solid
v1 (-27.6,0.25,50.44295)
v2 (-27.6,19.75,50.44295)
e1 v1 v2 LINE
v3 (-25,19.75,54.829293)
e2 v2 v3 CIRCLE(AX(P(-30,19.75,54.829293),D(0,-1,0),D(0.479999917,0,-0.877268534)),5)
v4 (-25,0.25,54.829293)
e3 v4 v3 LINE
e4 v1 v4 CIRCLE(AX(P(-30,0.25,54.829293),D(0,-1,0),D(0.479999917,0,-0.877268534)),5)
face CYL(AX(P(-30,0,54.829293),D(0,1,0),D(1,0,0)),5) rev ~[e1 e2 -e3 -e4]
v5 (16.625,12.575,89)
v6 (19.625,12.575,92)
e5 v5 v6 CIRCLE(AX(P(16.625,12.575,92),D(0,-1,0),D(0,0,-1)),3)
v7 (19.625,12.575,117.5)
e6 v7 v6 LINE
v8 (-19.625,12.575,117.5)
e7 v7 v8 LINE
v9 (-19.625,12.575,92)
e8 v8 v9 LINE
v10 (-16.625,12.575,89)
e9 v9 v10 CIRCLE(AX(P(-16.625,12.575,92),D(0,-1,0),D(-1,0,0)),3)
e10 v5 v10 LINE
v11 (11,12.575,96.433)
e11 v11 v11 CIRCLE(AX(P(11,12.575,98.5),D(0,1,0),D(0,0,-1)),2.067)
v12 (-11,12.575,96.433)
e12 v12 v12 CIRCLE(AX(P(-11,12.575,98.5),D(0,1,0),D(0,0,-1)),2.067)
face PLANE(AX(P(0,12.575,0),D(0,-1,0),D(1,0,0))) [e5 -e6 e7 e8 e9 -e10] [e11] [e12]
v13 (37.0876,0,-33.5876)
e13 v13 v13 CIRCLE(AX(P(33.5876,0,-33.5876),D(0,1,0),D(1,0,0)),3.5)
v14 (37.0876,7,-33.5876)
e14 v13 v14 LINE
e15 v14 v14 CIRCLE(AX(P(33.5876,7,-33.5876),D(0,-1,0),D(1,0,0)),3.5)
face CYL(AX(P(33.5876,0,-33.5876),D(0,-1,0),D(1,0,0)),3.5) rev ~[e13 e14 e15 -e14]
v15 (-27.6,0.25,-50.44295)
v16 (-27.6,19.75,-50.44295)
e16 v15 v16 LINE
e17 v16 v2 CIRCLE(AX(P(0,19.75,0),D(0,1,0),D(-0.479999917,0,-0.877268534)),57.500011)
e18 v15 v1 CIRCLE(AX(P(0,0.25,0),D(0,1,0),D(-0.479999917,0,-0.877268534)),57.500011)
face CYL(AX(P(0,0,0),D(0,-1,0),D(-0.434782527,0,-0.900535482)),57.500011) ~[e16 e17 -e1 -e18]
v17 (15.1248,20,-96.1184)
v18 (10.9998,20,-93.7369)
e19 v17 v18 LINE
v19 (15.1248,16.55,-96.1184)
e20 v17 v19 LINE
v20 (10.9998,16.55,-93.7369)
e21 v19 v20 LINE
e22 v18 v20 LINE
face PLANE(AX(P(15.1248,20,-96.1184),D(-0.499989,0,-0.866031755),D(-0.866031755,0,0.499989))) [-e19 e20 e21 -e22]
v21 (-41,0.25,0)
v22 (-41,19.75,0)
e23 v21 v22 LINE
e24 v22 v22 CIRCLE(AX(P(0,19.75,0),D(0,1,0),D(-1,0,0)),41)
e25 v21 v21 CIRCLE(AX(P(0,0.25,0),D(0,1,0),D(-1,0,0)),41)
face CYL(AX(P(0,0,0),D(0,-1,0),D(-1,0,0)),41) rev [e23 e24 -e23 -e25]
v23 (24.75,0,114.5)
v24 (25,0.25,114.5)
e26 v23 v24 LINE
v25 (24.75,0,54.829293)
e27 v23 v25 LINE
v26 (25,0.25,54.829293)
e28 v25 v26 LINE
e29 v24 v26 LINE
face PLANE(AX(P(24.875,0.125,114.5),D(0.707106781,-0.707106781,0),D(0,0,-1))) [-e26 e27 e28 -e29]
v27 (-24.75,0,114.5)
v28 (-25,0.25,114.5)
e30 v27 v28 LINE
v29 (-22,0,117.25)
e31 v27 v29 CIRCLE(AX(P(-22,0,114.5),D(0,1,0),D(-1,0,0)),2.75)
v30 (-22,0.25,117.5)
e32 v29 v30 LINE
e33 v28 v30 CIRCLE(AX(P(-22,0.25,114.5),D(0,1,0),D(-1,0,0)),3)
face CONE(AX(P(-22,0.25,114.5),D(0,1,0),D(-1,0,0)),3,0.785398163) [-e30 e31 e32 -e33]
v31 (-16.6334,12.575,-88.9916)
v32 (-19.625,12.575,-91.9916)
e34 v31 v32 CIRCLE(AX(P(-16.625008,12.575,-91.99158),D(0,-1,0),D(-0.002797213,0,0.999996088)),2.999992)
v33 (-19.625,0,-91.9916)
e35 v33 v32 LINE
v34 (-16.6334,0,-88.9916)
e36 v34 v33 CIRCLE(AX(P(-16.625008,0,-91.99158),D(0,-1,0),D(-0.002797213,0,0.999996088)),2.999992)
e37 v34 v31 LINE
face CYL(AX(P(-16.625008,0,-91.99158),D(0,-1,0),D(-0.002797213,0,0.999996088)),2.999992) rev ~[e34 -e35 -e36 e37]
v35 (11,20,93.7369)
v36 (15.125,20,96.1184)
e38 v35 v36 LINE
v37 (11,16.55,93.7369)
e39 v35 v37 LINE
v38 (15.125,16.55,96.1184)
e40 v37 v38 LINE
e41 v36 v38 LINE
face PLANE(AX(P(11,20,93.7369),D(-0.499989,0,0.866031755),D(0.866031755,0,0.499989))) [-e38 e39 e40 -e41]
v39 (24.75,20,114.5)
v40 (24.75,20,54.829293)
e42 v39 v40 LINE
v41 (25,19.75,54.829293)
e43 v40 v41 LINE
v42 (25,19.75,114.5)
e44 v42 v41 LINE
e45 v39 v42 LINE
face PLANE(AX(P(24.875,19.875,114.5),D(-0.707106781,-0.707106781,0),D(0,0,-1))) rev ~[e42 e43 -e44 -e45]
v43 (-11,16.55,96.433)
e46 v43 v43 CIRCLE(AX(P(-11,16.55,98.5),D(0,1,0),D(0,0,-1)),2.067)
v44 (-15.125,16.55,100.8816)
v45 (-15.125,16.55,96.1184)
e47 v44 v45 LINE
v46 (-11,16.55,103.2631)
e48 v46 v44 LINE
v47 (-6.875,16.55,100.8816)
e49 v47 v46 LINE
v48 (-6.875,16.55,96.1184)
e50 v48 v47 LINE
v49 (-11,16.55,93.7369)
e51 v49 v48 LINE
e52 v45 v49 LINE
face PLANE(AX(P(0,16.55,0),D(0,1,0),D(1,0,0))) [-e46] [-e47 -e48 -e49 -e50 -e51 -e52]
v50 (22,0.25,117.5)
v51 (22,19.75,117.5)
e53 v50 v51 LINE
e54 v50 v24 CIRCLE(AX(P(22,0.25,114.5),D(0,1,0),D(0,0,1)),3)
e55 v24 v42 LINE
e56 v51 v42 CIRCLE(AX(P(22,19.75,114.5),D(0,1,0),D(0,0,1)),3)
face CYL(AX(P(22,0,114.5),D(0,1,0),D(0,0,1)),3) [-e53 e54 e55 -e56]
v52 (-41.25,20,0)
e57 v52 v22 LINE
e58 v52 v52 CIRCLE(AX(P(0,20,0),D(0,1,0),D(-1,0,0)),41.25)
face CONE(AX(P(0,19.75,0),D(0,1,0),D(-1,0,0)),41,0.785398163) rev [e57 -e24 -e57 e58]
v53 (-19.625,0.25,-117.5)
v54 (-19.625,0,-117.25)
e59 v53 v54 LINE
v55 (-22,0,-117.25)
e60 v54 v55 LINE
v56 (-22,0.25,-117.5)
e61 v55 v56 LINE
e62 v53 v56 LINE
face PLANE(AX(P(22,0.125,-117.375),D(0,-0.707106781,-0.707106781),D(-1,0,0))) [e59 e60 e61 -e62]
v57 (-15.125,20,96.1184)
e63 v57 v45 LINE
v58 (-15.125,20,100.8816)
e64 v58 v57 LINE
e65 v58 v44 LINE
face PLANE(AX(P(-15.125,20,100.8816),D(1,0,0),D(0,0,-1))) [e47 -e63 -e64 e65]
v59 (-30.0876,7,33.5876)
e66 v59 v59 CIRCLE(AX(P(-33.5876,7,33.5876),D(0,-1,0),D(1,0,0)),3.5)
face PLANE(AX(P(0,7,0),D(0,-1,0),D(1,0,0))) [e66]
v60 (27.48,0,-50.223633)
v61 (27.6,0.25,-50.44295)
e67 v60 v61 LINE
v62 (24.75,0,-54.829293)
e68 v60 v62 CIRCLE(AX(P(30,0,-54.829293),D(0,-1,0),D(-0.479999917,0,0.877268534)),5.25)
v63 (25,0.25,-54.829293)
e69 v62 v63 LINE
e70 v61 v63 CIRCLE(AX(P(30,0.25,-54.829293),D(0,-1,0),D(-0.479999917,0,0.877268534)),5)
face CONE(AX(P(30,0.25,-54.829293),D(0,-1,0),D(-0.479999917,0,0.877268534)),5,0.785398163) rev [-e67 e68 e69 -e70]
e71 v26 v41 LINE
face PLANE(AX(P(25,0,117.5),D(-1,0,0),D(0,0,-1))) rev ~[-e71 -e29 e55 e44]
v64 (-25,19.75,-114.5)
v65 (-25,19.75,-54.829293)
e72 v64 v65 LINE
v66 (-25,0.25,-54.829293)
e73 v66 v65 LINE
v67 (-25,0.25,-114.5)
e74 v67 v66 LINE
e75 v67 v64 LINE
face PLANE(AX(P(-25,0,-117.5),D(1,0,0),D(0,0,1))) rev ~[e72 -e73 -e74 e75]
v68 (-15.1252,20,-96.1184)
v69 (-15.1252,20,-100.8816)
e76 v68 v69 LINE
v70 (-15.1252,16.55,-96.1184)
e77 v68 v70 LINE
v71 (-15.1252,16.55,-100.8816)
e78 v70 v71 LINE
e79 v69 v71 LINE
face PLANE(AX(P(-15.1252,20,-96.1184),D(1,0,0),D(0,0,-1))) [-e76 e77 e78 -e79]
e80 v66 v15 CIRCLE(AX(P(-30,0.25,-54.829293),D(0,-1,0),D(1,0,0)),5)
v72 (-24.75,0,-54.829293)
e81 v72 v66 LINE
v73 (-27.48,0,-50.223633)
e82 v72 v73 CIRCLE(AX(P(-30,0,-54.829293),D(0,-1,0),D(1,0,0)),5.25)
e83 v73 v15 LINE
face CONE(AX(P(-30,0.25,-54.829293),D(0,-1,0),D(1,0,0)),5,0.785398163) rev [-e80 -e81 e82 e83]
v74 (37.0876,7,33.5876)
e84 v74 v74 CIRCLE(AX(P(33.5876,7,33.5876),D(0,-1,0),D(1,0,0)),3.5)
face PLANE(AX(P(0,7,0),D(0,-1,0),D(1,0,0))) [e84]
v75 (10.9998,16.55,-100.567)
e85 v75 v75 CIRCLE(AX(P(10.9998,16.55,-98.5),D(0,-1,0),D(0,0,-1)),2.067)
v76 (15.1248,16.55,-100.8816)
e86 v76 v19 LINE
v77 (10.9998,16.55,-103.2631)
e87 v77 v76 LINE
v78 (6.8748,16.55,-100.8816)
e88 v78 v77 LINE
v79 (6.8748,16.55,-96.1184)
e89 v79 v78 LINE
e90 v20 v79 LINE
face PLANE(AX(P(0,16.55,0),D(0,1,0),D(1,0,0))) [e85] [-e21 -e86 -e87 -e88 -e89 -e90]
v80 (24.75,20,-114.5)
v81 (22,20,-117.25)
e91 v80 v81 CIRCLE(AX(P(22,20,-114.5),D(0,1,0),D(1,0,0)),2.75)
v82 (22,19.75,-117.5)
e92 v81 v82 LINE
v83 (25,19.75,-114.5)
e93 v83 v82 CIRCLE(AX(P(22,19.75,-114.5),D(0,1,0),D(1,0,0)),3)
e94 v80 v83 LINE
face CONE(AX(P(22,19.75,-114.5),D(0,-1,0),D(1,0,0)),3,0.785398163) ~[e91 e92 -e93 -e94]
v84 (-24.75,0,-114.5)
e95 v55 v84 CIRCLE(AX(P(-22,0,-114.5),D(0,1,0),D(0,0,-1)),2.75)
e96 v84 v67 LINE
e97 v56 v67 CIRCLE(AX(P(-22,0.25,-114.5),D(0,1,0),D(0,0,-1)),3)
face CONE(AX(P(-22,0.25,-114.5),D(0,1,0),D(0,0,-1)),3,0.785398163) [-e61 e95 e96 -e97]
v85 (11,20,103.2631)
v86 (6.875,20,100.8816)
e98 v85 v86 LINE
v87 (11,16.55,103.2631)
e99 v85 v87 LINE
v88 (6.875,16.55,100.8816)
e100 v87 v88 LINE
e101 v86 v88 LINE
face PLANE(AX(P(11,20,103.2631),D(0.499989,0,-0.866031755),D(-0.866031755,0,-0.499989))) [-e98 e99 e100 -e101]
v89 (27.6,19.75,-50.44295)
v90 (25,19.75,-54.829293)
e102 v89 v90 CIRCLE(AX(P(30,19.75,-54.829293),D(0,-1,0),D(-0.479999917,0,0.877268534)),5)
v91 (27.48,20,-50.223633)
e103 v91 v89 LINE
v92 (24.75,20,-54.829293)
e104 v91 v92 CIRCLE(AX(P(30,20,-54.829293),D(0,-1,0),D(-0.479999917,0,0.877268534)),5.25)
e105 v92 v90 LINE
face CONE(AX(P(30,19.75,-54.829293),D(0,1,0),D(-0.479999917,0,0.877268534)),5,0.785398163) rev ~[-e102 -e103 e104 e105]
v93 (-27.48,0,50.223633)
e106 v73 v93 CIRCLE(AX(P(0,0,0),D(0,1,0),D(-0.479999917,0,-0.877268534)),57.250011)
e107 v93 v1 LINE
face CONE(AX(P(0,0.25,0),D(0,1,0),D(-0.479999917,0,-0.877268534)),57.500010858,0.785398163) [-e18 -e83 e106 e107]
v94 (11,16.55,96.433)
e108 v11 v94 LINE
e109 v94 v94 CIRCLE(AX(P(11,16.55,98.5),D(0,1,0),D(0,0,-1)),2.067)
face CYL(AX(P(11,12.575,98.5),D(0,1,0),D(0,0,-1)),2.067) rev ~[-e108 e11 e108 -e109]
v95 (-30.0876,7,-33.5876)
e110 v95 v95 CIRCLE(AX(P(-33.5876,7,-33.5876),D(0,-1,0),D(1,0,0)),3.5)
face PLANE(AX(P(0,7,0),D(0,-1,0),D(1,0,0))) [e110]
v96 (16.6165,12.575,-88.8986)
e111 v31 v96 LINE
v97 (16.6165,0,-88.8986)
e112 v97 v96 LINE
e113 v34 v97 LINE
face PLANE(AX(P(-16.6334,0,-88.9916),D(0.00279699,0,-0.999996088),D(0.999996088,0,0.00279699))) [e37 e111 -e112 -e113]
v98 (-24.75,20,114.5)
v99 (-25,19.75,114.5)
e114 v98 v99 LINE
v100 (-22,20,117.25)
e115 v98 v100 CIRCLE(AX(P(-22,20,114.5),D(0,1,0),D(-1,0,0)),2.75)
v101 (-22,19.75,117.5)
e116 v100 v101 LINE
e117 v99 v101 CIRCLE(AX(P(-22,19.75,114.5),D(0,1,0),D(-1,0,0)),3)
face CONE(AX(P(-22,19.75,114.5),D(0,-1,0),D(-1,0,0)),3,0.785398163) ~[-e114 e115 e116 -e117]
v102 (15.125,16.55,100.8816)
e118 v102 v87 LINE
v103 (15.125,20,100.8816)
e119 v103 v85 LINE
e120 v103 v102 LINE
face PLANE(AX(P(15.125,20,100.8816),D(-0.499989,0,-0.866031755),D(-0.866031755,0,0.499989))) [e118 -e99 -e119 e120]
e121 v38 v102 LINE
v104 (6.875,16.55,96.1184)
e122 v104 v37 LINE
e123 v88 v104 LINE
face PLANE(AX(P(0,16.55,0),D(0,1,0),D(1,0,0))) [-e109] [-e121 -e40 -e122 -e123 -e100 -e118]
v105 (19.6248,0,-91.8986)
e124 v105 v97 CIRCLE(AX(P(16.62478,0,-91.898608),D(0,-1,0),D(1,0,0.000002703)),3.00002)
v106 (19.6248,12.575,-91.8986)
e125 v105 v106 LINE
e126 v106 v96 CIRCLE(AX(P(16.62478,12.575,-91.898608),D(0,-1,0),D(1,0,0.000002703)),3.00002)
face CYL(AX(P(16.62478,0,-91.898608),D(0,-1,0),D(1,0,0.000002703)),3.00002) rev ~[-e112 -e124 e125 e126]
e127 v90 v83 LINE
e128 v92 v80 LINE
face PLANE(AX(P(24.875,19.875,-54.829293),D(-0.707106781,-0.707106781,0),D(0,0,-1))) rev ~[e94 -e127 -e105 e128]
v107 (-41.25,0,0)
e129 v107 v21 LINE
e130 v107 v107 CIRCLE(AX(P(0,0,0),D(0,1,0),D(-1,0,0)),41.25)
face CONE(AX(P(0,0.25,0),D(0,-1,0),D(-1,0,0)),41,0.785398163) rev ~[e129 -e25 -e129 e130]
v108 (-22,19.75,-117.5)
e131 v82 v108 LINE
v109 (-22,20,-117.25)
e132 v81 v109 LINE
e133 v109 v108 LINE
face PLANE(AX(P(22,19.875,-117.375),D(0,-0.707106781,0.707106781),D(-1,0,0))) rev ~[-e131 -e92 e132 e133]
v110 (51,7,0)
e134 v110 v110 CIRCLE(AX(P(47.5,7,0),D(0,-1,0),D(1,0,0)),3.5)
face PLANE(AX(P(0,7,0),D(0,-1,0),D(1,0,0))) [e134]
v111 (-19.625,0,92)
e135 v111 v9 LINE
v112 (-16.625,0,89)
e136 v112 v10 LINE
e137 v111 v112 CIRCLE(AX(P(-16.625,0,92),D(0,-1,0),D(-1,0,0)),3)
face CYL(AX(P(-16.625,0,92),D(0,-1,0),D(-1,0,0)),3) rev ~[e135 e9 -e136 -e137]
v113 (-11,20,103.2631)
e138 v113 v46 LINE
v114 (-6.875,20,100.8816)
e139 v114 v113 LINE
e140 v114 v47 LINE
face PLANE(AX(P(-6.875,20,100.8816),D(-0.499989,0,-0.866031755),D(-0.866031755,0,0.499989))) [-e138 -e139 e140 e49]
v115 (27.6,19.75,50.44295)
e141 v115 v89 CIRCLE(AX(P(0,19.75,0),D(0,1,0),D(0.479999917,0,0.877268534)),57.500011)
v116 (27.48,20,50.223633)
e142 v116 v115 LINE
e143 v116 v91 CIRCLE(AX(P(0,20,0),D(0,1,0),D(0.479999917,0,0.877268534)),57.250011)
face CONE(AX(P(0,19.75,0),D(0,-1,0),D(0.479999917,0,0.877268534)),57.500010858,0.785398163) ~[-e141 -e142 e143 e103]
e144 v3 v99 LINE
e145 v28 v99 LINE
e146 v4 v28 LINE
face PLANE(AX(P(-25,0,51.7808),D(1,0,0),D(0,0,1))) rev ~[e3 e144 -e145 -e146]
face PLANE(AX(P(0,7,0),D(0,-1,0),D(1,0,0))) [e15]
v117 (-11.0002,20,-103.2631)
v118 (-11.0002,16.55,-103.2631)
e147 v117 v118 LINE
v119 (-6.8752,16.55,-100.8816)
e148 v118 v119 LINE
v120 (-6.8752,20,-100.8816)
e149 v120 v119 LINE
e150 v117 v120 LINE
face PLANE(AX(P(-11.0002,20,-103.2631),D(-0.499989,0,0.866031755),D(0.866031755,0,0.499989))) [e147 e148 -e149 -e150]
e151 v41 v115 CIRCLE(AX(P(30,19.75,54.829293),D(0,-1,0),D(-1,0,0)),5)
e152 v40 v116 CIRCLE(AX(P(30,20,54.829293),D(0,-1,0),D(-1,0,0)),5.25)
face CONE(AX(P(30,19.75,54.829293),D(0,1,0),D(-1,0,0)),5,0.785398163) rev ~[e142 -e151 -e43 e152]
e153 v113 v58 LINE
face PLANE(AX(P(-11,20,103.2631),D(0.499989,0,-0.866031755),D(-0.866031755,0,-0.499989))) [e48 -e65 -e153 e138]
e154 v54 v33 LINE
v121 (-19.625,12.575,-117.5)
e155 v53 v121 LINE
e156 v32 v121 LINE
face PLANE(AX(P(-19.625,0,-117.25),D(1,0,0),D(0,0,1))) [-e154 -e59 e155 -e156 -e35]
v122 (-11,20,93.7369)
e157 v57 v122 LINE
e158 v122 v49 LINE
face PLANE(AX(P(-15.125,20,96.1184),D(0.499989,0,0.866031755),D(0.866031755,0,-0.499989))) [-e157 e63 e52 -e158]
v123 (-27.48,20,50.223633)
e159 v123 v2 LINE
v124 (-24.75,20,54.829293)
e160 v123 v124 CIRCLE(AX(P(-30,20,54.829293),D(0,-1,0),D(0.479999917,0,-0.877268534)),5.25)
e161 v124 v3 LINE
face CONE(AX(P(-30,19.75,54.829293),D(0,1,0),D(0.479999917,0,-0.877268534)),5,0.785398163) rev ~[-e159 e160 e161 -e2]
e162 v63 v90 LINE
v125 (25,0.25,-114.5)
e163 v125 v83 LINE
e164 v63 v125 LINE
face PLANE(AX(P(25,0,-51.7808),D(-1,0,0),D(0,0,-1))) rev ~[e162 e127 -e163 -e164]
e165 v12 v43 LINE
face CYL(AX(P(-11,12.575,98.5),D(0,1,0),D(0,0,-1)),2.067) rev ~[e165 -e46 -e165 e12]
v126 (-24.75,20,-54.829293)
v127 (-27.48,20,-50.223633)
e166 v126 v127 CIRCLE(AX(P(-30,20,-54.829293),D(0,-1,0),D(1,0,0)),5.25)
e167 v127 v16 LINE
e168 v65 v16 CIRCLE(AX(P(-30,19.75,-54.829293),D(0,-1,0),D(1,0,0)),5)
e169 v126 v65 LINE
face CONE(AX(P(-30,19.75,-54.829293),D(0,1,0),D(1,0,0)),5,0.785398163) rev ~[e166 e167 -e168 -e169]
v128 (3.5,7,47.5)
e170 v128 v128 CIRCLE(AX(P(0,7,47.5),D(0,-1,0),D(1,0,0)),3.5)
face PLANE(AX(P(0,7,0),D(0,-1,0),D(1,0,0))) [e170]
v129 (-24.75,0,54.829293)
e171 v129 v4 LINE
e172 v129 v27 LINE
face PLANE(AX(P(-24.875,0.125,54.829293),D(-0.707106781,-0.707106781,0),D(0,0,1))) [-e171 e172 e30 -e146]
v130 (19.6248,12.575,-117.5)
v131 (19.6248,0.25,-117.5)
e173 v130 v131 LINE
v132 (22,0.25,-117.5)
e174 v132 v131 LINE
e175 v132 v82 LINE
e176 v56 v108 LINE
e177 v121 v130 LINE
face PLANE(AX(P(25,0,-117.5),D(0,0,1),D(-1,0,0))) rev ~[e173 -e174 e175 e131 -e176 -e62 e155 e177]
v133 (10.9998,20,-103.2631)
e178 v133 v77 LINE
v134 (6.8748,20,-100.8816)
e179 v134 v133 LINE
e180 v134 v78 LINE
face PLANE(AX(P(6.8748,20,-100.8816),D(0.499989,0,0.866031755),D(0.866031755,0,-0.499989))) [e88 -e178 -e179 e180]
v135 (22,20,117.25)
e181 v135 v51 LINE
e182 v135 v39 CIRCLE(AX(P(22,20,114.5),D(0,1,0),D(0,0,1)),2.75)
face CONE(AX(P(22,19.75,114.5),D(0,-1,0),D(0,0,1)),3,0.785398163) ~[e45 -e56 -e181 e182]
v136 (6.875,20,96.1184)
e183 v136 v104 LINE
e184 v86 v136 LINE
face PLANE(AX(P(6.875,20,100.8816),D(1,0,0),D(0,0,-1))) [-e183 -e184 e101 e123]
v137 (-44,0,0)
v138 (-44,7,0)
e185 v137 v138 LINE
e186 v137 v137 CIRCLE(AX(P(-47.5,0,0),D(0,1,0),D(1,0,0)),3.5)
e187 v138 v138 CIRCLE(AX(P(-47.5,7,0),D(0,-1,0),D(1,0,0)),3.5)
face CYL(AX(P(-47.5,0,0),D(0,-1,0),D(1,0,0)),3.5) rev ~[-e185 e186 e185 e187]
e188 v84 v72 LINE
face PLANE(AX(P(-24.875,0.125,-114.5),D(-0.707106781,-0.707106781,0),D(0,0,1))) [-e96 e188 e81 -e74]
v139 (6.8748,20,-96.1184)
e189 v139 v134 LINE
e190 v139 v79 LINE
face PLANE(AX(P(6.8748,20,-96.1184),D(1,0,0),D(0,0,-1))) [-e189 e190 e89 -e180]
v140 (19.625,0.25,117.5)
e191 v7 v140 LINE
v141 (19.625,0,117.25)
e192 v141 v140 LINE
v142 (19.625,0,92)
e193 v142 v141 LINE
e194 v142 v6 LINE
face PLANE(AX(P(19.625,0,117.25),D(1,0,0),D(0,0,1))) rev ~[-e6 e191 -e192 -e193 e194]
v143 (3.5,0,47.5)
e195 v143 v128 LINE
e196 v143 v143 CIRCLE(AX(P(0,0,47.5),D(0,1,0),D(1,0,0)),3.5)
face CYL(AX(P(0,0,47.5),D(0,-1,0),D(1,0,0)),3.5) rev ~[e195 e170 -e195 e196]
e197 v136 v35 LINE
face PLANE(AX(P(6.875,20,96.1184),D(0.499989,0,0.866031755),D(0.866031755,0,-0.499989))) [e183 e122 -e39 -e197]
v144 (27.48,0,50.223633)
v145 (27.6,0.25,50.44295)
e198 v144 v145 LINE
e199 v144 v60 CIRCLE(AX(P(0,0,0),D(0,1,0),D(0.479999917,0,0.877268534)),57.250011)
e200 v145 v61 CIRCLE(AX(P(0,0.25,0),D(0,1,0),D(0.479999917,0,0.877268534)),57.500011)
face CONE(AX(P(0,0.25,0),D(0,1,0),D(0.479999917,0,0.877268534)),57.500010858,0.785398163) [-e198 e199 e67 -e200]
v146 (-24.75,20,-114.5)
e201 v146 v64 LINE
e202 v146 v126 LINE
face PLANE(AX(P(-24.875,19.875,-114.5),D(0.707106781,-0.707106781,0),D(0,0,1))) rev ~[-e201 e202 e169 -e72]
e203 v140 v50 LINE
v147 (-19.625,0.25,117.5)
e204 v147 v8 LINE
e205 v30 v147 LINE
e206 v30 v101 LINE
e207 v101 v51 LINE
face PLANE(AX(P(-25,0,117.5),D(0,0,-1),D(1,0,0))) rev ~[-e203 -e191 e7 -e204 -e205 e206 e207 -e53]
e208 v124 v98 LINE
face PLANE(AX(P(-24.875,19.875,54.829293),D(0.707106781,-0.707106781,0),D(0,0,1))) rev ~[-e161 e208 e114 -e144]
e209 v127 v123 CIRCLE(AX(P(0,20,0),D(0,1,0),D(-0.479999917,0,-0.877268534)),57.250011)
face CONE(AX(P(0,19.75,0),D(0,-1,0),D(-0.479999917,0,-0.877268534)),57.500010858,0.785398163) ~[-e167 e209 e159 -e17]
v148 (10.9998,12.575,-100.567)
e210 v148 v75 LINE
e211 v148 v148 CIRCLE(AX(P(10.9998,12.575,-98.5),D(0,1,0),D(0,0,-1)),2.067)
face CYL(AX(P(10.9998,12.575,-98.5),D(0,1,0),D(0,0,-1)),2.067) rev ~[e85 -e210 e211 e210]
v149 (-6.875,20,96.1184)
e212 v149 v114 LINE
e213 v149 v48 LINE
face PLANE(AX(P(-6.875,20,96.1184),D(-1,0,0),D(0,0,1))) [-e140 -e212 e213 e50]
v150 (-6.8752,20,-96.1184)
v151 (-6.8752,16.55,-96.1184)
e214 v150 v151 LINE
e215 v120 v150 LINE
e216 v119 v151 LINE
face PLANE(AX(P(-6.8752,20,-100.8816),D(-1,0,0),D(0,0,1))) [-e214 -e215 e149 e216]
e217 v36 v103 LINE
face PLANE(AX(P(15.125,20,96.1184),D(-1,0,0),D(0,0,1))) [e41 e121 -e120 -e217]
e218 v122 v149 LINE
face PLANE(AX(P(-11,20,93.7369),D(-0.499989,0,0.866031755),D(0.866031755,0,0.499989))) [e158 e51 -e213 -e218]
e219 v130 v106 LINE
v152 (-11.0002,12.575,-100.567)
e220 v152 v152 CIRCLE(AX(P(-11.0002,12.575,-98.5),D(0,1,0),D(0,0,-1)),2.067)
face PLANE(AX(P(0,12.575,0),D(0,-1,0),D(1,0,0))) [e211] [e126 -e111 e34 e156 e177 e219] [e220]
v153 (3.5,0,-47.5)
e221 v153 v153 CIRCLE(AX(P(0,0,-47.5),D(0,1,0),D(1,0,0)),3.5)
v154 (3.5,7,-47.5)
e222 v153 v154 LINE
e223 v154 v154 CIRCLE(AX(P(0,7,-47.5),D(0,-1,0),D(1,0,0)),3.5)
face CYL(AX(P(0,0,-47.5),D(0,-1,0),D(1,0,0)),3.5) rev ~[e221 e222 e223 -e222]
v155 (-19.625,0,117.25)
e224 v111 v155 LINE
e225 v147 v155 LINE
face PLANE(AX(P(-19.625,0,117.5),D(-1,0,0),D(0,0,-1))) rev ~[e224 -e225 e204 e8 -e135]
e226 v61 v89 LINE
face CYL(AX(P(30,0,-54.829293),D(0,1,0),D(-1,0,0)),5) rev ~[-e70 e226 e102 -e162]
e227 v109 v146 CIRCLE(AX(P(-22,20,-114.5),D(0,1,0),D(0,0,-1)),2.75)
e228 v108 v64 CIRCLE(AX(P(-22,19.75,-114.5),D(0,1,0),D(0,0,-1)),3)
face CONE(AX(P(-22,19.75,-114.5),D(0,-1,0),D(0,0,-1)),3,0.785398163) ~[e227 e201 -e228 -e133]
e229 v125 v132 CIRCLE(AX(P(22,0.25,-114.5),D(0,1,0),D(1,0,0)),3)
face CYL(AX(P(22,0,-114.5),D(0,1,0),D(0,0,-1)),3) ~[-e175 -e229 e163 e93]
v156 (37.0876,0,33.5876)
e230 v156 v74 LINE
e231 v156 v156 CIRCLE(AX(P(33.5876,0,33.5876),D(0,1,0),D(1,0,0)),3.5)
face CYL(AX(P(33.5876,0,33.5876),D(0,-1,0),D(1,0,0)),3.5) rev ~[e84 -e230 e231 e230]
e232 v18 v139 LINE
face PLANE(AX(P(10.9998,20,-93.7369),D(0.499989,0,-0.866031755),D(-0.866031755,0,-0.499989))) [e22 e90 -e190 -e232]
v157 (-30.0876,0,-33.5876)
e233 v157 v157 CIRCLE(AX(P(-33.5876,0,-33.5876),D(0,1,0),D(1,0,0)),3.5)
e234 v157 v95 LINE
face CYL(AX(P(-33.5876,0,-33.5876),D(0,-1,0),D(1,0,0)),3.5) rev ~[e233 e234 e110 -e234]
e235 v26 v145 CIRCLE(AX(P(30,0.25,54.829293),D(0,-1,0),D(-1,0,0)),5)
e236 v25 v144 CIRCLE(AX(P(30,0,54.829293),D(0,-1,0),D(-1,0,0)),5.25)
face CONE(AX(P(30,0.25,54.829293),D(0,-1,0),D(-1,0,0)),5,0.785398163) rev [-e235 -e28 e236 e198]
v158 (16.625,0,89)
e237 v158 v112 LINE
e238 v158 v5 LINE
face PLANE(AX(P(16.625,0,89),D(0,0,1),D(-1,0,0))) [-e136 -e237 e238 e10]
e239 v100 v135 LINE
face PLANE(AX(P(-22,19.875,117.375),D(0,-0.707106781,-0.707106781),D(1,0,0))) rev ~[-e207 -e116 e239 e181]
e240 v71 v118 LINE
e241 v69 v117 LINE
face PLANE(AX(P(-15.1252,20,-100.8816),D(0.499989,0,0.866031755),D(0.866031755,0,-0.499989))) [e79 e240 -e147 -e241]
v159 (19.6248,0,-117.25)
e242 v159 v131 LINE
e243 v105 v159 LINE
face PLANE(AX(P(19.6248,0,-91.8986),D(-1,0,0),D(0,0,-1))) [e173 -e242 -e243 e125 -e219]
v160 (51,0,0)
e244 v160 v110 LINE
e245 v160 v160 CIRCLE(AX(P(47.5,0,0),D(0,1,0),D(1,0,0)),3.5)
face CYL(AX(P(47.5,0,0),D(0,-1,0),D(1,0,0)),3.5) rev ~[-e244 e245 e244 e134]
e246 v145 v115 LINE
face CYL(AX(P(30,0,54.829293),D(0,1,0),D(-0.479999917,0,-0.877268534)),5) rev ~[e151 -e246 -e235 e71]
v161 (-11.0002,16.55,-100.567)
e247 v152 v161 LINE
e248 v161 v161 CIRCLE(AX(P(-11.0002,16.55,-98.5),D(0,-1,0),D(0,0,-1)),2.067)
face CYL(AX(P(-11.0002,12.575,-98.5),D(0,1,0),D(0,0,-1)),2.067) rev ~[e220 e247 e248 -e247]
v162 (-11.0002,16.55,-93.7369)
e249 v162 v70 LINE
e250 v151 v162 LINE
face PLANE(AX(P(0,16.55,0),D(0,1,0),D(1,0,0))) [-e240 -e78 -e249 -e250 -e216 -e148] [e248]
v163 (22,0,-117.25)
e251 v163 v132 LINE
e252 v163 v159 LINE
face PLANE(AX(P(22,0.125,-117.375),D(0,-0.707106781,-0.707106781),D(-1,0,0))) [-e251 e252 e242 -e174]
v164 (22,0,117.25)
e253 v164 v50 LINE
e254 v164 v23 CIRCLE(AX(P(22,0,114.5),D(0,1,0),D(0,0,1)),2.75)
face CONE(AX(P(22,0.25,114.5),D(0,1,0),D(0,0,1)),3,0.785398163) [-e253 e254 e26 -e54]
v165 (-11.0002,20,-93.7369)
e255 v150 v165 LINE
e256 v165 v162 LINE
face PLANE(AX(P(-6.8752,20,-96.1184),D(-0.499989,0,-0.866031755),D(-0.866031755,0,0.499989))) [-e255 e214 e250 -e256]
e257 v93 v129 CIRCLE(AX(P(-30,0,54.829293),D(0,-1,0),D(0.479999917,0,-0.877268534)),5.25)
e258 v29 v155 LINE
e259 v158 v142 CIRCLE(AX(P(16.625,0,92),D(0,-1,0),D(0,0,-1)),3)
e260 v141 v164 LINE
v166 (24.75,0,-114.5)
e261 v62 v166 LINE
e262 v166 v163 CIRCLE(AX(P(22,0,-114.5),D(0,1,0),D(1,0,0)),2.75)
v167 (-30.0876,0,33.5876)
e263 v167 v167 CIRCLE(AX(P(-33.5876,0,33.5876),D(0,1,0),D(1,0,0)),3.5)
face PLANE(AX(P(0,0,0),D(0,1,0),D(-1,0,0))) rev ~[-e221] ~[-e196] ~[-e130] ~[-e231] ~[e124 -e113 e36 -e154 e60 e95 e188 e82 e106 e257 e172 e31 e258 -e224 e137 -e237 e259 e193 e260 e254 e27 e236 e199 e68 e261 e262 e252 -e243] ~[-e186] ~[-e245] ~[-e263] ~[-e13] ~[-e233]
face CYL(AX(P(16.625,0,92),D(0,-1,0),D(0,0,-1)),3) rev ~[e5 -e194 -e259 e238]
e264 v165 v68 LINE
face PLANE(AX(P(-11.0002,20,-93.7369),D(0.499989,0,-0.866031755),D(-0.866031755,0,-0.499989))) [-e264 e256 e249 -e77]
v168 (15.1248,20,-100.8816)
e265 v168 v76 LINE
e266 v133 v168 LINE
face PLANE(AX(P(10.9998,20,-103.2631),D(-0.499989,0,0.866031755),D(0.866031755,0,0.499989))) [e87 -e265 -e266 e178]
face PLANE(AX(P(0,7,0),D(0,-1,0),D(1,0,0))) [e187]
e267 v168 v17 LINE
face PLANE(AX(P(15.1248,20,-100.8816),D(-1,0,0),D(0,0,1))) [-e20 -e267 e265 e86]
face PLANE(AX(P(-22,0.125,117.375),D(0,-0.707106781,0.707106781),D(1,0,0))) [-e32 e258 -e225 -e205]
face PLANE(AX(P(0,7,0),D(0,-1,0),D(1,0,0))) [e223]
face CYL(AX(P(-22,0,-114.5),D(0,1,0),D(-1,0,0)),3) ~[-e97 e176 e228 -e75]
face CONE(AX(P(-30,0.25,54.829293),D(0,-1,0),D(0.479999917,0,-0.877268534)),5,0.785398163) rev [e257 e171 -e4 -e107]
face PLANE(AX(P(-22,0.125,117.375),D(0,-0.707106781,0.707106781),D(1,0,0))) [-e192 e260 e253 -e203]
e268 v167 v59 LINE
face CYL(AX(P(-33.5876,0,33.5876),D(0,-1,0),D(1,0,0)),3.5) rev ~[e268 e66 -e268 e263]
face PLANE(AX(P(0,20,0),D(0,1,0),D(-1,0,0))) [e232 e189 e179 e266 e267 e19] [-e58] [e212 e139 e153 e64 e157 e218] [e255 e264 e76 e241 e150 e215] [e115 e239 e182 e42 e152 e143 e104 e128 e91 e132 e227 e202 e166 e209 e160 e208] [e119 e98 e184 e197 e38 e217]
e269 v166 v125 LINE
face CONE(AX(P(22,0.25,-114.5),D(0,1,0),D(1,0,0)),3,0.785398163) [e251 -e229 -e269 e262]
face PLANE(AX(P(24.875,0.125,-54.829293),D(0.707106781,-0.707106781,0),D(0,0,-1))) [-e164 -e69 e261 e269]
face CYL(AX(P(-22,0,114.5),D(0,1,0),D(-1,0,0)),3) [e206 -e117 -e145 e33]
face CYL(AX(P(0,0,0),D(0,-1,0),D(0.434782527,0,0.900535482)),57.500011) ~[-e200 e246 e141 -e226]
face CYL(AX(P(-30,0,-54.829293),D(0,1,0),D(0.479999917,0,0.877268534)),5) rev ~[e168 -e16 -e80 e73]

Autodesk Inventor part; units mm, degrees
ref_plane "YZ Plane" through (0, 0, 0) normal (1, 0, 0) x (0, 1, 0)
ref_plane "XZ Plane" through (0, 0, 0) normal (0, 1, 0) x (-1, 0, 0)
ref_plane "XY Plane" through (0, 0, 0) normal (0, 0, 1) x (1, 0, 0)
sketch "Sketch1" plane through (0, 0, 0) normal (0, 1, 0) x (-1, 0, 0)
  circle A0 centre (0, 0) radius 41
  line L0 (25, 117.5) -> (-25, 117.5)
  line L1 (-25, -117.5) -> (25, -117.5)
  arc A1 (-25, 51.7808) -> (-25, -51.7808) centre (0, 0) ccw
  arc A2 (25, -51.7808) -> (25, 51.7808) centre (0, 0) ccw
  line L2 (-25, 117.5) -> (-25, 51.7808)
  line L3 (-25, -51.7808) -> (-25, -117.5)
  line L4 (25, -117.5) -> (25, -51.7808)
  line L5 (25, 51.7808) -> (25, 117.5)
  dimension "d0" = 82
  dimension "d76" = 50
  dimension "d77" = 57.5
  dimension "d78" = 57.5
  dimension "d79" = 65.7192
  dimension "d80" = 65.7192
  dimension "d81" = 50
  dimension "d82" = 235
extrude "Extrusion1" add sketch "Sketch1" along normal blind 20
fillet "Fillet1" radius 5 4 edges at (-25, 10, 51.7808) (25, 10, 51.7808) (25, 10, -51.7808) (-25, 10, -51.7808)
fillet "Fillet2" radius 3 4 edges at (25, 10, 117.5) (-25, 10, 117.5) (25, 10, -117.5) (-25, 10, -117.5)
chamfer "Chamfer1" distance 0.25 angle 45 26 edges at (25, 20, 84.6646) (57.5, 20, 0) (25, 20, -84.6646) (24.1213, 20, -116.6213) (0, 20, -117.5) (-24.1213, 20, -116.6213) (-25, 20, -84.6646) (-57.5, 20, 0) (-25, 20, 84.6646) (-24.1213, 20, 116.6213) (0, 20, 117.5) (24.1213, 20, 116.6213) (25, 0, 84.6646) (57.5, 0, 0) (25, 0, -84.6646) (24.1213, 0, -116.6213) (0, 0, -117.5) (-24.1213, 0, -116.6213) (-25, 0, -84.6646) (-57.5, 0, 0) (-25, 0, 84.6646) (-24.1213, 0, 116.6213) (0, 0, 117.5) (24.1213, 0, 116.6213) (41, 20, 0) (41, 0, 0)
sketch "Sketch3" plane through (0, 0, 0) normal (0, -1, 0) x (1, 0, 0)
  line L0 (-22, -117.25) -> (-22, 117.25)
  line L1 (22, 117.25) -> (22, -117.25)
  line L2 (22, -117.25) -> (-22, 117.25) construction
  line L3 (-22, -117.25) -> (22, 117.25) construction
  line L4 (16.625, 89) -> (-16.625, 89)
  line L5 (-19.625, 92) -> (-19.625, 117.25)
  line L6 (19.625, 117.25) -> (19.625, 92)
  line L7 (19.625, 89) -> (17.4099, 92.7868) construction
  line L8 (-19.625, 89) -> (-17.1837, 91.5811) construction
  line L9 (-19.625, -117.25) -> (-19.625, -91.9916)
  line L10 (-16.6334, -88.9916) -> (16.6165, -88.8986)
  line L11 (19.6248, -91.8986) -> (19.6248, -117.25)
  line L12 (-17.2012, -91.6745) -> (-19.625, -89) construction
  line L13 (17.2501, -91.935) -> (19.6248, -88.8902) construction
  line L14 (22, 117.25) -> (19.625, 117.25)
  line L15 (-22, 117.5) -> (22, 117.5) projected
  line L16 (-19.625, 117.25) -> (-22, 117.25)
  arc A0 (-16.6334, -88.9916) -> (-19.625, -91.9916) centre (-16.625, -91.9916) ccw
  arc A1 (19.6248, -91.8986) -> (16.6165, -88.8986) centre (16.6248, -91.8986) ccw
  arc A2 (-19.625, 92) -> (-16.625, 89) centre (-16.625, 92) ccw
  arc A3 (16.625, 89) -> (19.625, 92) centre (16.625, 92) ccw
  line L17 (19.6248, -117.25) -> (19.6248, -121.1164)
  line L18 (19.6248, -121.1164) -> (-19.625, -121.1164)
  line L19 (-19.625, -121.1164) -> (-19.625, -117.25)
  line L20 (19.625, 117.25) -> (19.625, 123.825)
  line L21 (19.625, 123.825) -> (-19.625, 123.825)
  line L22 (-19.625, 123.825) -> (-19.625, 117.25)
  line L23 (19.625, 117.25) -> (19.6248, 117.25)
  line L24 (22, -117.25) -> (19.6248, -117.25)
  line L25 (-19.625, -117.25) -> (-22, -117.25)
  point P0 (0, 0)
  point P1 (-19.625, 117.5)
  point P2 (19.625, 117.5)
  dimension "d35" = 39.25
  dimension "d37" = 28.25
  dimension "d38" = 28.25
  dimension "d39" = 39.25
  dimension "d40" = 3
  dimension "d41" = 3
  dimension "d42" = 3
  dimension "d50" = 2.375
  dimension "d51" = 2.375
  dimension "d52" = 44
  dimension "d53" = 39.2499
  dimension "d55" = 2.3752
  dimension "d56" = 2.375
  dimension "d83" = 234.5
extrude "Extrusion4" cut sketch "Sketch3" against normal blind 12.575 contours L9 A0 L10 A1 L11 L17 L18 L19 | L22 L15 L20 L6 A3 L4 A2 L5 | L22 L21 L20 L15
sketch "Sketch4" plane through (0, 12.575, 0) normal (0, -1, 0) x (1, 0, 0)
  circle A0 centre (11, 98.5) radius 2.2451
  circle A1 centre (-11, 98.5) radius 2.3292
  circle A2 centre (10.9998, -98.5) radius 1.5784
  circle A3 centre (-11.0002, -98.5) radius 2.3162
  line L0 (19.6248, -117.5) -> (-19.625, -117.5) projected
  line L1 (-19.625, -117.5) -> (-19.625, -91.9916) projected
  line L2 (19.6248, -91.8986) -> (19.6248, -117.5) projected
  line L3 (-19.625, 117.5) -> (19.625, 117.5) projected
  line L4 (19.625, 117.25) -> (19.625, 92) projected
  point P0 (0, 0)
  point P1 (-19.625, -117.25)
  point P2 (19.6248, -117.25)
  dimension "d45" = 19
  dimension "d48" = 19
  dimension "d57" = 19
  dimension "d58" = 19
  dimension "d59" = 22
  dimension "d60" = 22
  dimension "d61" = 8.625
  dimension "d62" = 8.625
  dimension "d92" = 4.4901
hole "Hole2" at (11, 12.575, 98.5) at (-11, 12.575, 98.5) at (10.9998, 12.575, -98.5) at (-11.0002, 12.575, -98.5) direction (0, 1, 0) diameter 4.134 end through all thread size "M5x0.8" class "6H" standard "ANSI Metric M Profile"
sketch "Sketch5" plane through (0, 20, 0) normal (0, 1, 0) x (1, 0, 0)
  circle A0 centre (-11, -98.5) radius 2.067 projected
  line L0 (-11, -93.7369) -> (-6.875, -96.1184)
  line L1 (-6.875, -96.1184) -> (-6.875, -100.8816)
  line L2 (-6.875, -100.8816) -> (-11, -103.2631)
  line L3 (-11, -103.2631) -> (-15.125, -100.8816)
  line L4 (-15.125, -100.8816) -> (-15.125, -96.1184)
  line L5 (-15.125, -96.1184) -> (-11, -93.7369)
  circle A1 centre (11, -98.5) radius 2.067 projected
  line L6 (11, -93.7369) -> (15.125, -96.1184)
  line L7 (15.125, -96.1184) -> (15.125, -100.8816)
  line L8 (15.125, -100.8816) -> (11, -103.2631)
  line L9 (11, -103.2631) -> (6.875, -100.8816)
  line L10 (6.875, -100.8816) -> (6.875, -96.1184)
  line L11 (6.875, -96.1184) -> (11, -93.7369)
  circle A2 centre (-11.0002, 98.5) radius 2.067 projected
  line L12 (-11.0002, 93.7369) -> (-15.1252, 96.1184)
  line L13 (-15.1252, 96.1184) -> (-15.1252, 100.8816)
  line L14 (-15.1252, 100.8816) -> (-11.0002, 103.2631)
  line L15 (-11.0002, 103.2631) -> (-6.8752, 100.8816)
  line L16 (-6.8752, 100.8816) -> (-6.8752, 96.1184)
  line L17 (-6.8752, 96.1184) -> (-11.0002, 93.7369)
  circle A3 centre (10.9998, 98.5) radius 2.067 projected
  line L18 (10.9998, 103.2631) -> (15.1248, 100.8816)
  line L19 (15.1248, 100.8816) -> (15.1248, 96.1184)
  line L20 (15.1248, 96.1184) -> (10.9998, 93.7369)
  line L21 (10.9998, 93.7369) -> (6.8748, 96.1184)
  line L22 (6.8748, 96.1184) -> (6.8748, 100.8816)
  line L23 (6.8748, 100.8816) -> (10.9998, 103.2631)
  point P0 (0, 0)
  point P1 (-13.0625, -102.0724)
  point P2 (-8.9377, 94.9276)
  dimension "d70" = 8.25
  dimension "d71" = 8.25
  dimension "d72" = 8.25
  dimension "d73" = 8.25
extrude "Extrusion5" cut sketch "Sketch5" against normal blind 3.45
sketch "Sketch6" plane through (0, 0, 0) normal (0, -1, 0) x (1, 0, 0)
  circle A0 centre (0, 0) radius 47.5
  circle A1 centre (0, -47.5) radius 3.5
  circle A2 centre (33.5876, -33.5876) radius 3.5
  circle A3 centre (47.5, 0) radius 3.5
  circle A4 centre (33.5876, 33.5876) radius 3.5
  circle A5 centre (0, 47.5) radius 3.5
  circle A6 centre (-33.5876, 33.5876) radius 3.5
  circle A7 centre (-47.5, 0) radius 3.5
  circle A8 centre (-33.5876, -33.5876) radius 3.5
  dimension "d84" = 95
  dimension "d85" = 7
  dimension "d88" = 360
extrude "Extrusion6" cut sketch "Sketch6" against normal blind 7 contours A0 A3 | A0 A3 | A4 A0 | A0 A4 | A2 A0 | A0 A2 | A5 A0 | A0 A5 | A1 A0 | A0 A1 | A6 A0 | A0 A6 | A8 A0 | A0 A8 | A7 A0 | A0 A7
properties part number "Head Thing"
